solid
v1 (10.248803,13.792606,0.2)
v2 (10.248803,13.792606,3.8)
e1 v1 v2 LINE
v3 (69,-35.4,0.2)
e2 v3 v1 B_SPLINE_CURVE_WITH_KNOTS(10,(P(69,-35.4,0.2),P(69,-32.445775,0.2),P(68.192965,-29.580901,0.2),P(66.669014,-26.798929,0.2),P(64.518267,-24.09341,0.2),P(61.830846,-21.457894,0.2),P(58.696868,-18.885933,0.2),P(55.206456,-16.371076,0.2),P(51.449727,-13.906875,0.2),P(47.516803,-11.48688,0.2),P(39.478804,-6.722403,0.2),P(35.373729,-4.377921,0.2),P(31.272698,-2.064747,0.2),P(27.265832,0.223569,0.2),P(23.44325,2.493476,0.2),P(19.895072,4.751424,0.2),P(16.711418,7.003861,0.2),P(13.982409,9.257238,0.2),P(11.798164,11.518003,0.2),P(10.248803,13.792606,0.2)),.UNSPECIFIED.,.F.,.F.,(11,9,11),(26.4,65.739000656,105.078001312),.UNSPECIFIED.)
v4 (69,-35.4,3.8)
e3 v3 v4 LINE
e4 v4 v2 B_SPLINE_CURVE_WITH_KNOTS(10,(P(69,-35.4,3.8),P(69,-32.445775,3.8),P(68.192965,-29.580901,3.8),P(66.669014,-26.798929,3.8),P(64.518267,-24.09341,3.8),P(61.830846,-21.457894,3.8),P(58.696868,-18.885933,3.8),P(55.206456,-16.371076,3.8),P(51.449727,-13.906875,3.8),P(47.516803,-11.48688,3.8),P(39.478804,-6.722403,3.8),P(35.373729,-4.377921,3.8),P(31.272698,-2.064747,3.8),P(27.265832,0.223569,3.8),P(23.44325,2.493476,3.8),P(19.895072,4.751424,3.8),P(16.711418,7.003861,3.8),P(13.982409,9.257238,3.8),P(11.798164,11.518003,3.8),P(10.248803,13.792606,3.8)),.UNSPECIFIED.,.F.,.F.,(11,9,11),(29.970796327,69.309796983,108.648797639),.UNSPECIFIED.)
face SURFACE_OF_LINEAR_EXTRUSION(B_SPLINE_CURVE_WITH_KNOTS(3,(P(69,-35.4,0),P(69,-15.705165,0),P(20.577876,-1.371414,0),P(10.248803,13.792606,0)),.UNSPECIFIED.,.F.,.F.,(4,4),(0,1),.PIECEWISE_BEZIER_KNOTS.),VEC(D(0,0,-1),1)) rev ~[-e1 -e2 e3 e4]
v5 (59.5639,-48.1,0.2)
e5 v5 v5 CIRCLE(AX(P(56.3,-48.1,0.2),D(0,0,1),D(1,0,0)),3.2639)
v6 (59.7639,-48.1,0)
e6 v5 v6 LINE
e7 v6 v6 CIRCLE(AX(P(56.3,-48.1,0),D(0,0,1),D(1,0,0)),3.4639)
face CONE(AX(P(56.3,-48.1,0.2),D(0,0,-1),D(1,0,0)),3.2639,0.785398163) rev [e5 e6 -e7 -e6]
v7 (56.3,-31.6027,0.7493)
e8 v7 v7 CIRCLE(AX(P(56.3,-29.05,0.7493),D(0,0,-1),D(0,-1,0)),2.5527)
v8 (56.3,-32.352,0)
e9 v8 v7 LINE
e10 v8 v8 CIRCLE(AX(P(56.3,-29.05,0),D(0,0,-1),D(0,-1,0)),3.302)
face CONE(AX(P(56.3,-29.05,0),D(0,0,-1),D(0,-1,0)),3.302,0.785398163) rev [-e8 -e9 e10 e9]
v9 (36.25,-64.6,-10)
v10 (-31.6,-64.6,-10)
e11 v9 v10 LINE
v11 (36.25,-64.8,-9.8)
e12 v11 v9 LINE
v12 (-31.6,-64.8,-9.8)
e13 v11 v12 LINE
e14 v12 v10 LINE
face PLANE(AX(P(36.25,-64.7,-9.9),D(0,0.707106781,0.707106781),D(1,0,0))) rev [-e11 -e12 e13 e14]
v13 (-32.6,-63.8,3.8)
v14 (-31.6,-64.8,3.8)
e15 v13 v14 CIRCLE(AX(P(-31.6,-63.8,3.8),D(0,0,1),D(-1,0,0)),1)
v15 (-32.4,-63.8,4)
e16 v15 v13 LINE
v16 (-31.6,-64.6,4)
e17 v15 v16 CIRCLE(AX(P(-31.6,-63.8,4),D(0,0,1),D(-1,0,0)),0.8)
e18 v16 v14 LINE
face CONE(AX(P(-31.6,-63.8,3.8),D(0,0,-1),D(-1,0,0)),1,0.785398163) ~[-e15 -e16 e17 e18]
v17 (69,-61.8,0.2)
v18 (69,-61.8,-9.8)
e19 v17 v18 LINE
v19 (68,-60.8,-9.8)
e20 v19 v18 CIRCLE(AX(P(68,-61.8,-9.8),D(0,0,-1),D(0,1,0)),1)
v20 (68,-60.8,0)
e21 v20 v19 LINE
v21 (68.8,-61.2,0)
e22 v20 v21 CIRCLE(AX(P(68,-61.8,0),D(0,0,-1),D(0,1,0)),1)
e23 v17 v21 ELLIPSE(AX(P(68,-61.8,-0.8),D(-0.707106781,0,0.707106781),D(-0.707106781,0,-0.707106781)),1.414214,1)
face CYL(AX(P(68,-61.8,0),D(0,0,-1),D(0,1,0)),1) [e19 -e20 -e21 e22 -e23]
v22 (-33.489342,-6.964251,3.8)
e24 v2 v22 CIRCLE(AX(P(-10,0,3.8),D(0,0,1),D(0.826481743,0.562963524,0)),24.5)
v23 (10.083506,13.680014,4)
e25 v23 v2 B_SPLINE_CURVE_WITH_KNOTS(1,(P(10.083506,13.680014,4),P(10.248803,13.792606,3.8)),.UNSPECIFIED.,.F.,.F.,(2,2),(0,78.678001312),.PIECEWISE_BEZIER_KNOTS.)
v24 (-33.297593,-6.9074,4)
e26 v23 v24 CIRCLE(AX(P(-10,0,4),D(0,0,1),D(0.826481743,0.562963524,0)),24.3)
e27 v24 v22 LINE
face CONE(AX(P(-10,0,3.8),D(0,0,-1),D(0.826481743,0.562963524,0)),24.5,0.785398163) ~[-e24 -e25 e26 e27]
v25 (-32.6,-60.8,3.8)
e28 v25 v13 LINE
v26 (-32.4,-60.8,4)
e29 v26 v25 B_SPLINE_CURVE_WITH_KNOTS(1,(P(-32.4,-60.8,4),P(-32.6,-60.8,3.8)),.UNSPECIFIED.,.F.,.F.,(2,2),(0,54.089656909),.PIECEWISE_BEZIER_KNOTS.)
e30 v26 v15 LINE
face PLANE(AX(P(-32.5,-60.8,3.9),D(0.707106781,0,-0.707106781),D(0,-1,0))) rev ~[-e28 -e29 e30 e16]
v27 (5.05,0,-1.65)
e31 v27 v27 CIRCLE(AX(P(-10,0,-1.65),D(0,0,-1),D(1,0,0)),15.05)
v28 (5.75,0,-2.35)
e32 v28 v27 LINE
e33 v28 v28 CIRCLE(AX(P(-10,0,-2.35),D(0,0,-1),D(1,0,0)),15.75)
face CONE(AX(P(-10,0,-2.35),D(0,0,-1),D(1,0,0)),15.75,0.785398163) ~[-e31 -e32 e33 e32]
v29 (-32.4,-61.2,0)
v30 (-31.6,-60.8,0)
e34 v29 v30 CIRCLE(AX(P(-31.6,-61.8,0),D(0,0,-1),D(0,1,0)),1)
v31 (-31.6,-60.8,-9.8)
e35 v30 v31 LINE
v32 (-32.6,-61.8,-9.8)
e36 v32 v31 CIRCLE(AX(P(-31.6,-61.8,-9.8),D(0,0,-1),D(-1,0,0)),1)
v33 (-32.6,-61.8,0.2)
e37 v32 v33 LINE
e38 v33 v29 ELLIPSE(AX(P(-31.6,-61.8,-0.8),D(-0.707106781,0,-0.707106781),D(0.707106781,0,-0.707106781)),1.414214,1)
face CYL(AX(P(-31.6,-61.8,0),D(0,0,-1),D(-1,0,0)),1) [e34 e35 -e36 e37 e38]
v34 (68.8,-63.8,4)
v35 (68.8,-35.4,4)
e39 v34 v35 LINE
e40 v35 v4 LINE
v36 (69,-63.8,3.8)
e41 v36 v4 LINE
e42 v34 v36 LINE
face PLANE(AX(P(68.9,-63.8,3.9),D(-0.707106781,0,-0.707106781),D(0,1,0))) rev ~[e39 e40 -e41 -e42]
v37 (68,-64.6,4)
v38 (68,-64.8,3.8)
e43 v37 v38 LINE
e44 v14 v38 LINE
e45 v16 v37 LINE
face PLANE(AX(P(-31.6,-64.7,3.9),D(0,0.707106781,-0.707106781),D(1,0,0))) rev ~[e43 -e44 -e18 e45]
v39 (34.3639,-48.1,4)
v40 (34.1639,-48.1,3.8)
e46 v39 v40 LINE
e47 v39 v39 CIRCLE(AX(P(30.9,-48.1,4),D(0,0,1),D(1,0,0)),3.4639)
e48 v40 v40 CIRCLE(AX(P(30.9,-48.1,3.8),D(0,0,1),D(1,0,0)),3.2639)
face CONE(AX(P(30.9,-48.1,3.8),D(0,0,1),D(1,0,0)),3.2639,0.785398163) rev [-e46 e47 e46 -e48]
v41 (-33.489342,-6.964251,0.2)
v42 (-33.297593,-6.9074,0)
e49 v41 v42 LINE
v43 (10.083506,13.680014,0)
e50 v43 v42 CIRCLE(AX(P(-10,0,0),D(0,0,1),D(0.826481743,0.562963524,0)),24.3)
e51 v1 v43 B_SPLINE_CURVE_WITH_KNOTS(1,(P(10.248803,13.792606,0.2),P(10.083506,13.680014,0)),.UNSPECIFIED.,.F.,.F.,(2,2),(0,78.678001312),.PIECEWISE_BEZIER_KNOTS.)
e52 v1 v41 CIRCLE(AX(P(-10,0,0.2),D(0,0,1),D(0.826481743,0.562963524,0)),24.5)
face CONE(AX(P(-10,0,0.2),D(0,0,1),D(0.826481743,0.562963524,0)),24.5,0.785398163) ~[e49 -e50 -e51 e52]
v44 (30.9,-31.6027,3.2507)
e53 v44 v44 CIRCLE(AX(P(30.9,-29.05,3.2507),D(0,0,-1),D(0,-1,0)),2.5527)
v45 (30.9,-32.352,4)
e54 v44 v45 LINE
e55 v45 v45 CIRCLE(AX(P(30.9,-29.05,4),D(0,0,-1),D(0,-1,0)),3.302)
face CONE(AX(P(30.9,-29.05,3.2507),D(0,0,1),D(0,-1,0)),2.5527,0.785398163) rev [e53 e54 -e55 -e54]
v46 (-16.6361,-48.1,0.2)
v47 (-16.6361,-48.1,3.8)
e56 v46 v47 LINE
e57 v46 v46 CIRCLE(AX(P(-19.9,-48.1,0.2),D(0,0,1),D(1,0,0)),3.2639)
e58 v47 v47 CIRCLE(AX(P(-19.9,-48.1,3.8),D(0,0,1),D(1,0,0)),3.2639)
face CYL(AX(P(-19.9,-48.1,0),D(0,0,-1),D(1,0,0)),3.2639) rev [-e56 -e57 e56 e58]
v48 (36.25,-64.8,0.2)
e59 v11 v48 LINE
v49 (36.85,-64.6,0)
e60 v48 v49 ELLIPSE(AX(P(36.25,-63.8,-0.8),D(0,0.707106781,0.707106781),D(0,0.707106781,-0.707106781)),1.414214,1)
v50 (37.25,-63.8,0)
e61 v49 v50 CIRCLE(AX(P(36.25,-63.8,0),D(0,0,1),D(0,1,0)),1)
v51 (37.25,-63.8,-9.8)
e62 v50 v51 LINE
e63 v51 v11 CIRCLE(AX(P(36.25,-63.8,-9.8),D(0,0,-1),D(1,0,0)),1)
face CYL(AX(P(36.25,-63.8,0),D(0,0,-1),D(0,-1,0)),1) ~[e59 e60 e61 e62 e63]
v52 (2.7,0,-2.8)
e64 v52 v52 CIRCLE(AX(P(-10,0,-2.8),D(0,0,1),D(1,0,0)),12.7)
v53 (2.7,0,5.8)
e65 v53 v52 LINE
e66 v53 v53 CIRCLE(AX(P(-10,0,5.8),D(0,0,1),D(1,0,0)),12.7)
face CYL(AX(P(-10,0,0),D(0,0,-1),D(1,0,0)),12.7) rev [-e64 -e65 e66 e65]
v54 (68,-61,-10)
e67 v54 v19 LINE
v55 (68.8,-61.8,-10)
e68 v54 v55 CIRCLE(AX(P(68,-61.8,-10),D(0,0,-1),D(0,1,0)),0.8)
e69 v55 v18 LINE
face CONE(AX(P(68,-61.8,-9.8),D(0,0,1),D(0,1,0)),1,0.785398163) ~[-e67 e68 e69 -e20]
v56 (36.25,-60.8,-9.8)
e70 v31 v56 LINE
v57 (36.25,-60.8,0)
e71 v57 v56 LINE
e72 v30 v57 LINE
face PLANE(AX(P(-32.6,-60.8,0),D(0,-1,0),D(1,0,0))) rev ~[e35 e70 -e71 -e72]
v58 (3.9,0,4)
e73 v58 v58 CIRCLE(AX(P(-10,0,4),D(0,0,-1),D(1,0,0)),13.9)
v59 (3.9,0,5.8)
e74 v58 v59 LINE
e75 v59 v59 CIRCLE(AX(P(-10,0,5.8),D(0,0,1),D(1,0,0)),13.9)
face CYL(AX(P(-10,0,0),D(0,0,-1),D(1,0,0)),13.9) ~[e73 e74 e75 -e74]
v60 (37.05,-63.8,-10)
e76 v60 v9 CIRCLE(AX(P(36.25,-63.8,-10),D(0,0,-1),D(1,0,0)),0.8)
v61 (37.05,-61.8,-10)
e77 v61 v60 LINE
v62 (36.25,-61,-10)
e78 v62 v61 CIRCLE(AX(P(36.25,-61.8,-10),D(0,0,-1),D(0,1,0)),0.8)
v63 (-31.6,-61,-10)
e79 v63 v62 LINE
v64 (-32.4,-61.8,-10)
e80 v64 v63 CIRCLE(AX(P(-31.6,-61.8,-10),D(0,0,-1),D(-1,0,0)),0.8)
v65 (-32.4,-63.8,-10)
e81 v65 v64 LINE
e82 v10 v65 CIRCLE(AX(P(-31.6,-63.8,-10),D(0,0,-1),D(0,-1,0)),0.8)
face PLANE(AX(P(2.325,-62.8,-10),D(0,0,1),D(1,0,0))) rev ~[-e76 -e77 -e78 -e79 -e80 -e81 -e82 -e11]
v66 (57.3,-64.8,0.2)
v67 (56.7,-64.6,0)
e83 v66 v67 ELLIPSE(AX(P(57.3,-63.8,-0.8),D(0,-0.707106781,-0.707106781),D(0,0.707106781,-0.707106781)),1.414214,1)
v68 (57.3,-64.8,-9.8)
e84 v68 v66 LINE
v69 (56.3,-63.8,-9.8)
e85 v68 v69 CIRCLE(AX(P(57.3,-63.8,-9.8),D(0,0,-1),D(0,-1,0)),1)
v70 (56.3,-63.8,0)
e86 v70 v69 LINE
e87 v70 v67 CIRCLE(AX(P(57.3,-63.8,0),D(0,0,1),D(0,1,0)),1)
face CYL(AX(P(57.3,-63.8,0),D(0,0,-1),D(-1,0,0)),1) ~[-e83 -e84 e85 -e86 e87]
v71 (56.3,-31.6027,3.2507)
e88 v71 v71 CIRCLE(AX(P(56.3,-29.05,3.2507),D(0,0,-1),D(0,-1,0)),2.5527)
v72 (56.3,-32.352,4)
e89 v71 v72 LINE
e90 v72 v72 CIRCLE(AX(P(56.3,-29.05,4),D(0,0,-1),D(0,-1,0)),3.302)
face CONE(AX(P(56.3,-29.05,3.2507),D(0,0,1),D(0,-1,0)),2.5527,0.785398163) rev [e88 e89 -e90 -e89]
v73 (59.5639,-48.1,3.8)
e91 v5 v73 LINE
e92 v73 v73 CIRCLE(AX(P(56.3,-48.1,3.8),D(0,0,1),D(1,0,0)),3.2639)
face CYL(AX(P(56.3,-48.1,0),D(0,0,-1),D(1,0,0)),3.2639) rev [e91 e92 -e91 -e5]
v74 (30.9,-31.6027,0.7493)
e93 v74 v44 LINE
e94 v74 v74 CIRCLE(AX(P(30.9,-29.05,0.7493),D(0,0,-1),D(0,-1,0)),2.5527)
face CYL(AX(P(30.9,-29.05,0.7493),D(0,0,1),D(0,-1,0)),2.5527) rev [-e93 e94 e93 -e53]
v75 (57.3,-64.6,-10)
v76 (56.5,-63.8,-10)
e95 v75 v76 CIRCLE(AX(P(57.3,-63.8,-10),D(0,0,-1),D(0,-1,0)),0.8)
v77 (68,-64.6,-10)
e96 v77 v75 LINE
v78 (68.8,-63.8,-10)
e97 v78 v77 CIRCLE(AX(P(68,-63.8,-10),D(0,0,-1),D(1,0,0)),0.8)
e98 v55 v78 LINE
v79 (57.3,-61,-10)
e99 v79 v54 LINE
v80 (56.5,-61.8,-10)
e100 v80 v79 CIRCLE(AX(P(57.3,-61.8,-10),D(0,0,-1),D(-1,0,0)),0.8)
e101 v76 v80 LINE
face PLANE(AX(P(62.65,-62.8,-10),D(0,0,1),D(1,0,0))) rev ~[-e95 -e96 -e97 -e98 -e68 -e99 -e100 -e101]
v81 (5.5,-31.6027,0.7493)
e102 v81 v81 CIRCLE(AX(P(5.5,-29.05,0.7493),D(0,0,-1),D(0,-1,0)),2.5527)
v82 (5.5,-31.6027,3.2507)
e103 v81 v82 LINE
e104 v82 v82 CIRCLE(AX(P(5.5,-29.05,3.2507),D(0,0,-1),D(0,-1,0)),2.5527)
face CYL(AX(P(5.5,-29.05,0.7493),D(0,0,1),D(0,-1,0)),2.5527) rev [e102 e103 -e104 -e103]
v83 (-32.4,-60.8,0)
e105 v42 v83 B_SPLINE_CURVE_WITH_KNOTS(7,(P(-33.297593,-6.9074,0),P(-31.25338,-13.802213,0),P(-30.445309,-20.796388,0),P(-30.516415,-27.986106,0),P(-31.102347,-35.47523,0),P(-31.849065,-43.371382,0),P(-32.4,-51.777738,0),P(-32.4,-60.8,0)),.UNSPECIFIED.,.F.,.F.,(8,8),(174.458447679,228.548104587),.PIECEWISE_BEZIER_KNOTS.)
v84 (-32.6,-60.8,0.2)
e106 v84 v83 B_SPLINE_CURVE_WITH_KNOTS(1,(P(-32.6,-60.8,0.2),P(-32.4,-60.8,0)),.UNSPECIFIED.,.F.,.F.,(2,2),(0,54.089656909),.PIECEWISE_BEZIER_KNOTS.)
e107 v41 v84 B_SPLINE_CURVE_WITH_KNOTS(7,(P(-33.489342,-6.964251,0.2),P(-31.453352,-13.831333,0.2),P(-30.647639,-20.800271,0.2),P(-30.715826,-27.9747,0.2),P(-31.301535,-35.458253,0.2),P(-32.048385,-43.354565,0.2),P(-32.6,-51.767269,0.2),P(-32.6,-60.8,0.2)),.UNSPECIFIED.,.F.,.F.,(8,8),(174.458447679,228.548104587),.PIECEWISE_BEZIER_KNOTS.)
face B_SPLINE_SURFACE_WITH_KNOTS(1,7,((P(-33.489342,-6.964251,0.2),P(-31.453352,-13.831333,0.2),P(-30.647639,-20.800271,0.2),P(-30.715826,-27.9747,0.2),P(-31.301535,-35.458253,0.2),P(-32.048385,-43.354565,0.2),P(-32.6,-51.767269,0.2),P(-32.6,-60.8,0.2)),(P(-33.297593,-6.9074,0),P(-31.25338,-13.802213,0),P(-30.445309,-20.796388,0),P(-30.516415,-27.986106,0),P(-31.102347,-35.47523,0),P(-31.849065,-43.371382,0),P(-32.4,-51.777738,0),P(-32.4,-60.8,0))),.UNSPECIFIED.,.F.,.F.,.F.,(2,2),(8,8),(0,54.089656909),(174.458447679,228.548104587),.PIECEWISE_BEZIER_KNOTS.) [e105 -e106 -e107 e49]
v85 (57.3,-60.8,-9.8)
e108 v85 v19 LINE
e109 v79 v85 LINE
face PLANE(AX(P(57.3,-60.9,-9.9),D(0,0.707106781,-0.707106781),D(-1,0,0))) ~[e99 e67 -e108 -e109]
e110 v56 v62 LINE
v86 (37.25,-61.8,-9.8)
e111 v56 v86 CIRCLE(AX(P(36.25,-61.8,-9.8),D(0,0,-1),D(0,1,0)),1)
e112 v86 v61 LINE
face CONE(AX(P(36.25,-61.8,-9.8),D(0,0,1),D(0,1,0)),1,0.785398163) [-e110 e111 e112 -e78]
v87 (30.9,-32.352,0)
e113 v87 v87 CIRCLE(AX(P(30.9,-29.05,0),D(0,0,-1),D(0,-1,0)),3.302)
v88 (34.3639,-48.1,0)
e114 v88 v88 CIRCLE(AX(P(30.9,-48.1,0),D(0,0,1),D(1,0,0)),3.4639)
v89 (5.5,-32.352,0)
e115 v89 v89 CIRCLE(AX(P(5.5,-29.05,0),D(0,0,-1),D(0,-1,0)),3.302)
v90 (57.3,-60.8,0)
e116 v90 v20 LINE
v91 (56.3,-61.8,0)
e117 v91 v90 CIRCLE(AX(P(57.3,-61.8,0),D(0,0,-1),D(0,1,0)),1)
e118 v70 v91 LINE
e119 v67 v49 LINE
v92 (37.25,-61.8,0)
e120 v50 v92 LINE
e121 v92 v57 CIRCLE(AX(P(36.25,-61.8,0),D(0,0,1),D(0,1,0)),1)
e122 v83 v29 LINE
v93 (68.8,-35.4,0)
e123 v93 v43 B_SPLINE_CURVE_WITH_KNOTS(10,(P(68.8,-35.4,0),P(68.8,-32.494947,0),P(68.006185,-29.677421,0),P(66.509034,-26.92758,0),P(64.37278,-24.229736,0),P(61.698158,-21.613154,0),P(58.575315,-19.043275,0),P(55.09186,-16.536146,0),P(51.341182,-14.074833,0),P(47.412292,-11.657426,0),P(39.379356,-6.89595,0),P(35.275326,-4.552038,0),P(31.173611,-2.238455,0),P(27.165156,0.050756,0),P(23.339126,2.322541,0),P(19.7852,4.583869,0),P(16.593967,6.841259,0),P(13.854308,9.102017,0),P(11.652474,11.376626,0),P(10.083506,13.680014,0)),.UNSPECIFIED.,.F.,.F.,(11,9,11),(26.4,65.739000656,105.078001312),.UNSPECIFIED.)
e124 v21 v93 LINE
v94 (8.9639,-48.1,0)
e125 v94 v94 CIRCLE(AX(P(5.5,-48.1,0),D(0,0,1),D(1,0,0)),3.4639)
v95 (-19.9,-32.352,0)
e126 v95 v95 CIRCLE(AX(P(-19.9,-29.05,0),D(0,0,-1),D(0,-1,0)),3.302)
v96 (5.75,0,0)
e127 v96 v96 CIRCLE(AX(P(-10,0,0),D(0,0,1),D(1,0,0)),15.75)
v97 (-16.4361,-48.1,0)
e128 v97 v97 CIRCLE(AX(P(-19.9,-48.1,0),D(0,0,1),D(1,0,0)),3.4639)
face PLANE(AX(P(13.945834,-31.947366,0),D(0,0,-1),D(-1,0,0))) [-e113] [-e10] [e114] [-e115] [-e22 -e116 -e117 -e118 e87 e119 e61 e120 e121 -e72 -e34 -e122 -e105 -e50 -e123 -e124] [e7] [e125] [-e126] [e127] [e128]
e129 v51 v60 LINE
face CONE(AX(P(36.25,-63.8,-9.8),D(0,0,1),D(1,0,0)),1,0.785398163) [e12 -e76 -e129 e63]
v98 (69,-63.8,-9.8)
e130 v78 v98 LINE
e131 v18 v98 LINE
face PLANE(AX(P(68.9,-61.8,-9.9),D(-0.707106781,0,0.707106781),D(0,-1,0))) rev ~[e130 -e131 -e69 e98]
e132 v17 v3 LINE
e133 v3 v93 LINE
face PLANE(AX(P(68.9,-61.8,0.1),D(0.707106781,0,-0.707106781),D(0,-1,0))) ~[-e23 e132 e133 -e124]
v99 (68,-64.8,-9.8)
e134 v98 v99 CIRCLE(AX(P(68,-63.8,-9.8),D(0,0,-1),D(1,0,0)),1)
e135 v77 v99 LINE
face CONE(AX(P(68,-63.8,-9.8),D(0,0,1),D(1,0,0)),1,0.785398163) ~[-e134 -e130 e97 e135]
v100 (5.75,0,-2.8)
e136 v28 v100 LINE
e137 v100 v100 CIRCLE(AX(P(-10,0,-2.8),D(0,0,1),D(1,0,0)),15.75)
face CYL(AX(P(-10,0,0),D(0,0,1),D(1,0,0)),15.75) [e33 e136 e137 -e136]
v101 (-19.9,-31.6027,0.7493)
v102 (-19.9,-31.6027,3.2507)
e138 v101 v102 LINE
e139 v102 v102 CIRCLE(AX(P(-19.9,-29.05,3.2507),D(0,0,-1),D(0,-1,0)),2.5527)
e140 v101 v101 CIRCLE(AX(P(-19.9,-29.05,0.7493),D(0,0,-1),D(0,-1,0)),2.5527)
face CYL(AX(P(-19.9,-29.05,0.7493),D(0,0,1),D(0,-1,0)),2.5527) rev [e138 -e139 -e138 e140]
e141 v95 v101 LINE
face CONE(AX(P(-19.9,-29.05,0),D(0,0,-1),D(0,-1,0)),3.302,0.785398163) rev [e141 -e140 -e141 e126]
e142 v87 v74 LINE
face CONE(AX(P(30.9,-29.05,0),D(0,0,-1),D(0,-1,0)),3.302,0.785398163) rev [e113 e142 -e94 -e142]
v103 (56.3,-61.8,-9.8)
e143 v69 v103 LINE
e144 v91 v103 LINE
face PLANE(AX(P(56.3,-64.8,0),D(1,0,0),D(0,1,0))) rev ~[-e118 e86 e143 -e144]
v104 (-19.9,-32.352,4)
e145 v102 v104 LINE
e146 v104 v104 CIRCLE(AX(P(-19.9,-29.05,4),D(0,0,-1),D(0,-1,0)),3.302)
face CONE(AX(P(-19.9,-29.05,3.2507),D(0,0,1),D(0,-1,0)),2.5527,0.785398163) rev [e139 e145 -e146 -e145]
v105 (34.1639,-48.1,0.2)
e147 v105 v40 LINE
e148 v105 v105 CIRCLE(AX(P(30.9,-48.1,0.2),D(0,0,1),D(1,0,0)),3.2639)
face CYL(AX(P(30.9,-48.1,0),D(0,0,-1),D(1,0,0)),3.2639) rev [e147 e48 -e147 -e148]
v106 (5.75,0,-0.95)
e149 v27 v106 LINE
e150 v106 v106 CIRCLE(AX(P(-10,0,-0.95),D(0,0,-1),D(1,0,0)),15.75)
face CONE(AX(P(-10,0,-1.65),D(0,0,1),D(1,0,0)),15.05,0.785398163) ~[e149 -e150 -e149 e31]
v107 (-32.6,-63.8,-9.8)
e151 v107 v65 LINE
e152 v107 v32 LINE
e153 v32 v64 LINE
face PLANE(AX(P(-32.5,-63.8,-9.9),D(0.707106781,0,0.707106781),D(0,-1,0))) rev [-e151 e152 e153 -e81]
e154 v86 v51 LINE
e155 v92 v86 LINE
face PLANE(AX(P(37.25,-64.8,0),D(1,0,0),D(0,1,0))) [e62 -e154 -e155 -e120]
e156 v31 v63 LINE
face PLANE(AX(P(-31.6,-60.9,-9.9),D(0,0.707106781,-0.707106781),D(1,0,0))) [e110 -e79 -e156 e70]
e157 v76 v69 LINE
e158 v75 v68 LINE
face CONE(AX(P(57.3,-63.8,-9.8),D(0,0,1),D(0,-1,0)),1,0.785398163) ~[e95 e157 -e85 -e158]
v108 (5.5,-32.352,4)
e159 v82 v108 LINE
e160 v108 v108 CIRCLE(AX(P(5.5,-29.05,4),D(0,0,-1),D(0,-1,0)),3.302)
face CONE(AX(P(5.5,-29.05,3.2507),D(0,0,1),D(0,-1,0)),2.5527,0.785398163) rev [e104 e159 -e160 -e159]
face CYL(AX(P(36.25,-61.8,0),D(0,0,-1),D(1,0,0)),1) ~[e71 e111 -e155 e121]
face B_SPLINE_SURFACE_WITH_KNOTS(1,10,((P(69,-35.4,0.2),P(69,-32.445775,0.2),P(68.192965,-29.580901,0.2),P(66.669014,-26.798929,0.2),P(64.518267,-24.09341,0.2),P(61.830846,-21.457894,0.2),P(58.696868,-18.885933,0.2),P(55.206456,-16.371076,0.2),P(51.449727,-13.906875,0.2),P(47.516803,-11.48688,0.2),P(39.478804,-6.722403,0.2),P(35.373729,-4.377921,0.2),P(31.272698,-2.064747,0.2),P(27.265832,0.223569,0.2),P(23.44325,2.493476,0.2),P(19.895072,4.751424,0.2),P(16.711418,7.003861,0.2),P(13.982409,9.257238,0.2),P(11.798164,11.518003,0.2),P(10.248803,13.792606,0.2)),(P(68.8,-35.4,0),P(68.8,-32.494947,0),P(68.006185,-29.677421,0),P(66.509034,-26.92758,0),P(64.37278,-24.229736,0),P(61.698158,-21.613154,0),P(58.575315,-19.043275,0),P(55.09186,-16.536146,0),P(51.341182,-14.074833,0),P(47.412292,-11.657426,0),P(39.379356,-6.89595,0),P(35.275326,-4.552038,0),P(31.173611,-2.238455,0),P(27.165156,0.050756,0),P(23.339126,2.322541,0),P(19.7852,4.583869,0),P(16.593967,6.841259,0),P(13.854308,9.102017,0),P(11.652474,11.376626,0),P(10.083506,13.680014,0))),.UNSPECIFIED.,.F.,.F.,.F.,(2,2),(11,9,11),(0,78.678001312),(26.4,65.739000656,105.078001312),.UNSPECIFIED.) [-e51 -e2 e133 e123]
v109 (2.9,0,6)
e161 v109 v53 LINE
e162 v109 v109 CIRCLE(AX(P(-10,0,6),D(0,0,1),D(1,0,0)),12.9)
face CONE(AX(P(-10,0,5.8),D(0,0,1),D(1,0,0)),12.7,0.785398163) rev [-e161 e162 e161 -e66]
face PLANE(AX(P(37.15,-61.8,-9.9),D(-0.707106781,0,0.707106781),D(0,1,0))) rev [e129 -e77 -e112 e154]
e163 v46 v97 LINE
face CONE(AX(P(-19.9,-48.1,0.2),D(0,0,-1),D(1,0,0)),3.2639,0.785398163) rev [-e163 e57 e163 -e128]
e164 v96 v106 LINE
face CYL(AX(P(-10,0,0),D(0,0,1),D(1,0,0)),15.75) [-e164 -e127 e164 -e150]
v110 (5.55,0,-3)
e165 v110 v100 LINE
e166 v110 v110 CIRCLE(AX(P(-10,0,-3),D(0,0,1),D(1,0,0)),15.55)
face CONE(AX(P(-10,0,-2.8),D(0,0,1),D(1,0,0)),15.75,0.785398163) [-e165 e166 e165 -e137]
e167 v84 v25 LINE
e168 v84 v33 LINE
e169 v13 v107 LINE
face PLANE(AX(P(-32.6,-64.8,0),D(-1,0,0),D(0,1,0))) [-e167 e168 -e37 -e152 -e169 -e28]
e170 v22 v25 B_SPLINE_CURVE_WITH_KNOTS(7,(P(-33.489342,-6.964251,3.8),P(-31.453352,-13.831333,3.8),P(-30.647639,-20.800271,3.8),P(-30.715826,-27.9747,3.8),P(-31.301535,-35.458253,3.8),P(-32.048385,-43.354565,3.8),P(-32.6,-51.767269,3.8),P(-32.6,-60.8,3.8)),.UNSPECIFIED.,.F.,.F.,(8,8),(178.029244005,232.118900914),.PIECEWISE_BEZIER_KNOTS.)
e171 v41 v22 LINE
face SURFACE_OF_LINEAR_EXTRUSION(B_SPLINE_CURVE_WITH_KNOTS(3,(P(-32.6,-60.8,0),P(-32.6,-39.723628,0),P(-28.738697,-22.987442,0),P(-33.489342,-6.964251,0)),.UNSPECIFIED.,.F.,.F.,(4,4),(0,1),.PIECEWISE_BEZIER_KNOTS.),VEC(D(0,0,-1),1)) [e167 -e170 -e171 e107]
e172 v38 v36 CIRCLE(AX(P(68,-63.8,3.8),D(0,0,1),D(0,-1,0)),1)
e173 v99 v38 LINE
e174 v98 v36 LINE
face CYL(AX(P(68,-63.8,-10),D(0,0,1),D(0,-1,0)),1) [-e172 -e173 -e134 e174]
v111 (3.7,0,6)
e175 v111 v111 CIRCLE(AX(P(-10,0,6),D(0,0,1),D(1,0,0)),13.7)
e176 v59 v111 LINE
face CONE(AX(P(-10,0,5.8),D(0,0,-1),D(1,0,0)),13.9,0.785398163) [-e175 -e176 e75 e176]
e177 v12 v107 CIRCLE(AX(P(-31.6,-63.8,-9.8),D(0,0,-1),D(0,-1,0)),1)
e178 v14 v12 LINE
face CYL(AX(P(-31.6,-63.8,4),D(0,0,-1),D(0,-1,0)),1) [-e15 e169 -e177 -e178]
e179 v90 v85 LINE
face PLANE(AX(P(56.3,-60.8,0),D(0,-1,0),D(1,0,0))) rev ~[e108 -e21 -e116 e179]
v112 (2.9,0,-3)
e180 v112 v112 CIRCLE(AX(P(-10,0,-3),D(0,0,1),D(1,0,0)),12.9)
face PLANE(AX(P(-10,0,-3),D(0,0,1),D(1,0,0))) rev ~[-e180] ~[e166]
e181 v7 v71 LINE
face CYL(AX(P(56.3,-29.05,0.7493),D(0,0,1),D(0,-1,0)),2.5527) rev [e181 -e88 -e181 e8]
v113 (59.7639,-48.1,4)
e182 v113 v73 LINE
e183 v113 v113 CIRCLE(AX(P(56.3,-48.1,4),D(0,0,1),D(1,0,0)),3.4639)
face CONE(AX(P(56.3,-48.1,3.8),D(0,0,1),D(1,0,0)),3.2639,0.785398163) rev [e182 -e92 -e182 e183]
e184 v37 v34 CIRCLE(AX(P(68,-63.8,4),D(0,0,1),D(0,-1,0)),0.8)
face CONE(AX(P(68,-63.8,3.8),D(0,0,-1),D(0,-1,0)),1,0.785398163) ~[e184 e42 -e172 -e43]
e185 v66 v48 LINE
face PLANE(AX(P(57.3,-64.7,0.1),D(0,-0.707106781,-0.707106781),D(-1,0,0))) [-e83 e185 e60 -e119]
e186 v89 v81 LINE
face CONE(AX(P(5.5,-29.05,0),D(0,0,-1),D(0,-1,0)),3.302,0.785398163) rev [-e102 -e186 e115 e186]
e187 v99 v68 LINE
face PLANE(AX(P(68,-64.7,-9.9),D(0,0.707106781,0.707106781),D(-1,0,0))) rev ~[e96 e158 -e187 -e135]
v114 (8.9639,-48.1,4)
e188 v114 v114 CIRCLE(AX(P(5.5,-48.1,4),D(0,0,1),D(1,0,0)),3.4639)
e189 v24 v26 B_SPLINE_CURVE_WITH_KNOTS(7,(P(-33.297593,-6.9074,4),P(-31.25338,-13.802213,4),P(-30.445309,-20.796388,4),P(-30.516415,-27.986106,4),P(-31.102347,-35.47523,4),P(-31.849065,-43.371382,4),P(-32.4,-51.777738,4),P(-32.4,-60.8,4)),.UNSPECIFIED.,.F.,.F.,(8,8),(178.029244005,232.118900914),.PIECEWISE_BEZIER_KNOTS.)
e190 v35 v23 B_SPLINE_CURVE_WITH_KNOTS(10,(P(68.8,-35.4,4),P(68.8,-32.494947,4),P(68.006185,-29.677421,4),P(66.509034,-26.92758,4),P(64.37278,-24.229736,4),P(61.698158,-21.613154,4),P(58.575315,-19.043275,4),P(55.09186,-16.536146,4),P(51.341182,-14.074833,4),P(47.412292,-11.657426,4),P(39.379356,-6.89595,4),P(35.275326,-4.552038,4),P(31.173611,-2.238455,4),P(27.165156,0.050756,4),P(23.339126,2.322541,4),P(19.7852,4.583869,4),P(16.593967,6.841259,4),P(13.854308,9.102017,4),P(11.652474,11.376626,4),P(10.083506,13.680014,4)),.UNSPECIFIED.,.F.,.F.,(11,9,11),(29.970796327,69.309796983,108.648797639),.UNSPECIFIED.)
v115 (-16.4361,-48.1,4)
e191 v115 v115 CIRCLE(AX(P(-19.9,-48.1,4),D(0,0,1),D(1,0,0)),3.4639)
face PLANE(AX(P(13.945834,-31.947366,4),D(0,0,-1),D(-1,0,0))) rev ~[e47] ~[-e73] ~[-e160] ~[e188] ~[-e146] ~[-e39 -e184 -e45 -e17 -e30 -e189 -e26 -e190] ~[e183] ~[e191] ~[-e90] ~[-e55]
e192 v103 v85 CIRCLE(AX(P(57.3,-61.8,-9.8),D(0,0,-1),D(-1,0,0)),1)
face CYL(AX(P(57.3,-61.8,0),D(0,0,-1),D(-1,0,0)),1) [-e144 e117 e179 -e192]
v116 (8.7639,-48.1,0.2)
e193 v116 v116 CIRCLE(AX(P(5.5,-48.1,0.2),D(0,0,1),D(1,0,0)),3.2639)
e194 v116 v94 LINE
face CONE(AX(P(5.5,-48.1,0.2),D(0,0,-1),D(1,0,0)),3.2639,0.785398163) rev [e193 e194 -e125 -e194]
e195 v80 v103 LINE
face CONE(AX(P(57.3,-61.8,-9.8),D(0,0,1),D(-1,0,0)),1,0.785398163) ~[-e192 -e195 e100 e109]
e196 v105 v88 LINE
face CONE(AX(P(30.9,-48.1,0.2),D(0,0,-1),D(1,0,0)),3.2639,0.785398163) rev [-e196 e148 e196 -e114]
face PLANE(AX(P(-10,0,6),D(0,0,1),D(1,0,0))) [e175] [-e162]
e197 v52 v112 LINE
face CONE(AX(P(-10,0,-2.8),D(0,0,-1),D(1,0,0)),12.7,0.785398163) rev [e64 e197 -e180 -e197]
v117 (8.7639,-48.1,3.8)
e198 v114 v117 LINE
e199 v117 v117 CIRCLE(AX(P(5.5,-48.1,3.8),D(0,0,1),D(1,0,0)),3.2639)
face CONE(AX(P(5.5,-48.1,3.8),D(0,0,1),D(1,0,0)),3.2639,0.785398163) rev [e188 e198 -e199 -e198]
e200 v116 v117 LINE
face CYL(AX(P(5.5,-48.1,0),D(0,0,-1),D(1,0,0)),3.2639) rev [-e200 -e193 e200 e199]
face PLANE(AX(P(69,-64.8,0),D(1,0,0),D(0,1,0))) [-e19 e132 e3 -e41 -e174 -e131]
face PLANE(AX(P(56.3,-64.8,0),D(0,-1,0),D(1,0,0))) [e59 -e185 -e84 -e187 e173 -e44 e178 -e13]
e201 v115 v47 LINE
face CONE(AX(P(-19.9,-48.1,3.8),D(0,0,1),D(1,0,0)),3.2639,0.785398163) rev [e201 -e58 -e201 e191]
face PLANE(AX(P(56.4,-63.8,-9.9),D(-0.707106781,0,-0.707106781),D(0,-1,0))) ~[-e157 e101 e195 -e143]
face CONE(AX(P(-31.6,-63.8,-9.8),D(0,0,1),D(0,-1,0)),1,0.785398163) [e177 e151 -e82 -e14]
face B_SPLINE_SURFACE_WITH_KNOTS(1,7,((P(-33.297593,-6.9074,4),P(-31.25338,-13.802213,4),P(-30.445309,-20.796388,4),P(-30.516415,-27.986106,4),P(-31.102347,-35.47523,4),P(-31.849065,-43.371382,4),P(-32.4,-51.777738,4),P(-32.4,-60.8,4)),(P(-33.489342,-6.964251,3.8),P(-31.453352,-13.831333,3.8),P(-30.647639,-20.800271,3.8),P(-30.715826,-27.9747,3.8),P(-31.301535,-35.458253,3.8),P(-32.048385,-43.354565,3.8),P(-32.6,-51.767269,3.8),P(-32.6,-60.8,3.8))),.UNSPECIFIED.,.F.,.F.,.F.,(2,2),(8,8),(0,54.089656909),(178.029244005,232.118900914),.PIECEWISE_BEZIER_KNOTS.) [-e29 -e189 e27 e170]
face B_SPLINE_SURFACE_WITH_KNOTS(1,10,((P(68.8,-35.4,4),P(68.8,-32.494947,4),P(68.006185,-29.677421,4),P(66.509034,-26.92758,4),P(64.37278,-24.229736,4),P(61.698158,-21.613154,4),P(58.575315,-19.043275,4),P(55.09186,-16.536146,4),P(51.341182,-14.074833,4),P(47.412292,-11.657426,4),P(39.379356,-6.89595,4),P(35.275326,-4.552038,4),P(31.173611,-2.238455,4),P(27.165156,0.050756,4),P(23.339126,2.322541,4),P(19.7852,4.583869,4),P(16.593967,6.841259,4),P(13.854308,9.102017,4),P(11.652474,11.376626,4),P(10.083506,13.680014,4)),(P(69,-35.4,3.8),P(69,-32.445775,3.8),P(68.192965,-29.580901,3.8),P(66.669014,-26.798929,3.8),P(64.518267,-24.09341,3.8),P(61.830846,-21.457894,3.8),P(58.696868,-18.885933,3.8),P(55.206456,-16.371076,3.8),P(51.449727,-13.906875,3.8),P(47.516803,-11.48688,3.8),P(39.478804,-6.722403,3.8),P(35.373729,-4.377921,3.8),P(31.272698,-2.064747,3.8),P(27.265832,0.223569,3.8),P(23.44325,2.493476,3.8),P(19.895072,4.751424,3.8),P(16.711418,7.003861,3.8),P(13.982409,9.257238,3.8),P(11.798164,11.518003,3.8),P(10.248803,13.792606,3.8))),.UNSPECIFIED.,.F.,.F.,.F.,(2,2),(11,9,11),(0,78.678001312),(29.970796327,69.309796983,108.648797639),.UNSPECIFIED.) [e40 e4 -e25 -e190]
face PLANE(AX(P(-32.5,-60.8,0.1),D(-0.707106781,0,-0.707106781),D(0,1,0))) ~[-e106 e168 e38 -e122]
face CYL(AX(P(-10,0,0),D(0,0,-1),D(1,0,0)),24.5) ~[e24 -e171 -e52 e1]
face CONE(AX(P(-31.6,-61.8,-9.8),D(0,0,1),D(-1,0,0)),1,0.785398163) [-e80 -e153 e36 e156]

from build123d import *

# Parameters (mm, degrees)
MAIN_FEATURES_SKETCH_R           = 24.5
MAIN_FEATURES_SKETCH_R_2         = 15.75
MAIN_FEATURES_SKETCH_R_3         = 12.7
MAIN_FEATURES_SKETCH_R_4         = 13.9
OUTER_RING_DEPTH                 = 4
MAIN_FEATURES_SKETCH_3_R         = 15.75
MAIN_FEATURES_SKETCH_3_R_2       = 13.9
MAIN_FEATURES_SKETCH_3_R_3       = 12.7
INNER_RING_DEPTH                 = 3
MAIN_FEATURES_SKETCH_4_R         = 13.9
MAIN_FEATURES_SKETCH_4_R_2       = 12.7
SUPPORT_RING_DEPTH               = 6
MAIN_FEATURES_SKETCH_5_R         = 3.2639
MAIN_FEATURES_SKETCH_5_W         = 101.6
MAIN_FEATURES_SKETCH_5_H         = 4
MAIN_FEATURES_SKETCH_5_W_2       = 69.85
MAIN_FEATURES_SKETCH_5_W_3       = 19.05
MAIN_FEATURES_SKETCH_5_W_4       = 12.7
PLATE_DEPTH                      = 4
MAIN_FEATURES_SKETCH_6_W         = 12.7
MAIN_FEATURES_SKETCH_6_H         = 4
MAIN_FEATURES_SKETCH_6_W_2       = 69.85
LEDGE_DEPTH                      = 10
F_1_4_20_TAPPED_HOLE1_AT_2_COUNT = 2
F_1_4_20_TAPPED_HOLE1_AT_2_PITCH = 25.4
F_1_4_20_TAPPED_HOLE1_AT_3_COUNT = 2
F_1_4_20_TAPPED_HOLE1_AT_3_PITCH = 76.2
F_1_4_20_TAPPED_HOLE1_AT_4_COUNT = 2
F_1_4_20_TAPPED_HOLE1_AT_4_PITCH = 50.8
FILLET1_R                        = 1
CHAMFER1_SIZE                    = 0.2


with BuildPart() as part:
    # main_features_sketch → outer_ring (new body)
    with BuildSketch(Plane.XY):
        with Locations((-10, 0)):
            Circle(MAIN_FEATURES_SKETCH_R)
        with Locations((-10, 0)):
            Circle(MAIN_FEATURES_SKETCH_R_2, mode=Mode.SUBTRACT)
        with Locations((-10, 0)):
            Circle(MAIN_FEATURES_SKETCH_R_2)
        with Locations((-10, 0)):
            Circle(MAIN_FEATURES_SKETCH_R_3, mode=Mode.SUBTRACT)
        with Locations((-10, 0)):
            Circle(MAIN_FEATURES_SKETCH_R_4)
        with Locations((-10, 0)):
            Circle(MAIN_FEATURES_SKETCH_R_3, mode=Mode.SUBTRACT)
    extrude(amount=OUTER_RING_DEPTH)

    # main_features_sketch<3> → inner_ring (add)
    with BuildSketch(Plane.XY):
        with Locations((-10, 0)):
            Circle(MAIN_FEATURES_SKETCH_3_R)
        with Locations((-10, 0)):
            Circle(MAIN_FEATURES_SKETCH_3_R_2, mode=Mode.SUBTRACT)
        with Locations((-10, 0)):
            Circle(MAIN_FEATURES_SKETCH_3_R_2)
        with Locations((-10, 0)):
            Circle(MAIN_FEATURES_SKETCH_3_R_3, mode=Mode.SUBTRACT)
    extrude(amount=-INNER_RING_DEPTH)

    # main_features_sketch<4> → support_ring (add)
    with BuildSketch(Plane.XY):
        with Locations((-10, 0)):
            Circle(MAIN_FEATURES_SKETCH_4_R)
        with Locations((-10, 0)):
            Circle(MAIN_FEATURES_SKETCH_4_R_2, mode=Mode.SUBTRACT)
    extrude(amount=SUPPORT_RING_DEPTH)

    # groove_sketch → groove (revolve, cut)
    with BuildSketch(Plane(origin=(-10, 0, 0), x_dir=(0, 0, -1), z_dir=(1, 0, 0)), mode=Mode.PRIVATE) as groove_sk:
        Polygon((2.35, 15.75), (1.65, 15.05), (0.95, 15.75), align=None)
    revolve(groove_sk.sketch.rotate(Axis((-10, 0, 4), (0, 0, -1)), 90), axis=Axis((-10, 0, 4), (0, 0, -1)), mode=Mode.SUBTRACT)

    # main_features_sketch<5> → plate (add)
    with BuildSketch(Plane.XY):
        with BuildLine():
            add(Edge.make_bspline(
                [(-32.6, -60.8), (-32.6, -39.723627729), (-28.738697218, -22.987442245), (-33.489342322, -6.96425138)],
                knots=[0, 0, 0, 0, 1, 1, 1, 1], degree=3))
            Line((-32.6, -60.8), (37.25, -60.8))
            Line((37.25, -60.8), (56.3, -60.8))
            Line((56.3, -60.8), (69, -60.8))
            Line((69, -60.8), (69, -35.4))
            add(Edge.make_bspline(
                [(69, -35.4), (69, -15.705164825), (20.577875926, -1.371414224), (10.248802697, 13.792606329)],
                knots=[0, 0, 0, 0, 1, 1, 1, 1], degree=3))
            ThreePointArc((10.248802697, 13.792606329), (13.413091061, 7.216451134), (14.5, 0))
            ThreePointArc((14.5, 0), (-6.481398494, -24.246019126), (-33.489342322, -6.96425138))
        make_face()
        with Locations((-19.9, -48.1)):
            Circle(MAIN_FEATURES_SKETCH_5_R, mode=Mode.SUBTRACT)
        with Locations((5.5, -48.1)):
            Circle(MAIN_FEATURES_SKETCH_5_R, mode=Mode.SUBTRACT)
        with Locations((30.9, -48.1)):
            Circle(MAIN_FEATURES_SKETCH_5_R, mode=Mode.SUBTRACT)
        with Locations((56.3, -48.1)):
            Circle(MAIN_FEATURES_SKETCH_5_R, mode=Mode.SUBTRACT)
        with Locations((18.2, -62.8)):
            Rectangle(MAIN_FEATURES_SKETCH_5_W, MAIN_FEATURES_SKETCH_5_H)
        with Locations((2.325, -62.8)):
            Rectangle(MAIN_FEATURES_SKETCH_5_W_2, MAIN_FEATURES_SKETCH_5_H)
        with Locations((46.775, -62.8)):
            Rectangle(MAIN_FEATURES_SKETCH_5_W_3, MAIN_FEATURES_SKETCH_5_H)
        with Locations((62.65, -62.8)):
            Rectangle(MAIN_FEATURES_SKETCH_5_W_4, MAIN_FEATURES_SKETCH_5_H)
    extrude(amount=PLATE_DEPTH)

    # main_features_sketch<6> → ledge (add)
    with BuildSketch(Plane.XY):
        with Locations((62.65, -62.8)):
            Rectangle(MAIN_FEATURES_SKETCH_6_W, MAIN_FEATURES_SKETCH_6_H)
        with Locations((2.325, -62.8)):
            Rectangle(MAIN_FEATURES_SKETCH_6_W_2, MAIN_FEATURES_SKETCH_6_H)
    extrude(amount=-LEDGE_DEPTH)

    # Sketch2 → 1/4-20 Tapped Hole1 (revolve, cut)
    with BuildSketch(Plane(origin=(56.3, -29.05, 4), x_dir=(0, -1, 0), z_dir=(1, 0, 0))):
        Polygon((0, 0), (0, 4), (3.302, 4), (2.5527, 3.2507), (2.5527, 0.7493), (3.302, 0), align=None)
    f_1_4_20_tapped_hole1 = revolve(axis=Axis((56.3, -29.05, 10.35), (0, 0, -1)), mode=Mode.SUBTRACT)

    # 1/4-20 Tapped Hole1 at 2: 1/4-20 Tapped Hole1 ×2
    with Locations(*[(-i * F_1_4_20_TAPPED_HOLE1_AT_2_PITCH, 0, 0) for i in range(1, F_1_4_20_TAPPED_HOLE1_AT_2_COUNT)]):
        add(f_1_4_20_tapped_hole1, mode=Mode.SUBTRACT)

    # 1/4-20 Tapped Hole1 at 3: 1/4-20 Tapped Hole1 ×2
    with Locations(*[(-i * F_1_4_20_TAPPED_HOLE1_AT_3_PITCH, 0, 0) for i in range(1, F_1_4_20_TAPPED_HOLE1_AT_3_COUNT)]):
        add(f_1_4_20_tapped_hole1, mode=Mode.SUBTRACT)

    # 1/4-20 Tapped Hole1 at 4: 1/4-20 Tapped Hole1 ×2
    with Locations(*[(-i * F_1_4_20_TAPPED_HOLE1_AT_4_PITCH, 0, 0) for i in range(1, F_1_4_20_TAPPED_HOLE1_AT_4_COUNT)]):
        add(f_1_4_20_tapped_hole1, mode=Mode.SUBTRACT)

    # Fillet1
    fillet1_edges = [part.edges().sort_by_distance(p)[0] for p in [
        (69, -64.8, -3),
        (-32.6, -64.8, -3),
        (56.3, -64.8, -5),
        (56.3, -60.8, -5),
        (69, -60.8, -5),
        (37.25, -64.8, -5),
        (-32.6, -60.8, -5),
        (37.25, -60.8, -5),
    ]]
    fillet(fillet1_edges, radius=FILLET1_R)

    # Chamfer1
    chamfer1_edges = [part.edges().sort_by_distance(p)[0] for p in [
        (-23.9, 0, 6),
        (-22.7, 0, 6),
        (-25.75, 0, -3),
        (-22.7, 0, -3),
        (-23.1639, -48.1, 0),
        (-23.1639, -48.1, 4),
        (2.2361, -48.1, 0),
        (2.2361, -48.1, 4),
        (27.6361, -48.1, 0),
        (27.6361, -48.1, 4),
        (53.0361, -48.1, 0),
        (53.0361, -48.1, 4),
        (68.707106781, -61.092893219, -10),
        (62.65, -60.8, -10),
        (56.592893219, -61.092893219, -10),
        (56.3, -62.8, -10),
        (56.592893219, -64.507106781, -10),
        (62.65, -64.8, -10),
        (68.707106781, -64.507106781, -10),
        (69, -62.8, -10),
        (-32.307106781, -61.092893219, -10),
        (-32.6, -62.8, -10),
        (-32.307106781, -64.507106781, -10),
        (2.325, -64.8, -10),
        (36.957106781, -64.507106781, -10),
        (37.25, -62.8, -10),
        (36.957106781, -61.092893219, -10),
        (2.325, -60.8, -10),
        (68.707106781, -64.507106781, 4),
        (18.2, -64.8, 4),
        (69, -49.6, 4),
        (-32.307106781, -64.507106781, 4),
        (42.397221588, -8.455112608, 4),
        (42.397221588, -8.455112608, 0),
        (-32.6, -62.3, 4),
        (-20.504144885, 22.133977054, 4),
        (-20.504144885, 22.133977054, 0),
        (-31.34637018, -33.788834835, 4),
        (-31.34637018, -33.788834835, 0),
        (46.775, -64.8, 0),
        (69, -48.6, 0),
        (-32.6, -61.3, 0),
    ]]
    chamfer(chamfer1_edges, length=CHAMFER1_SIZE)


solid = part.part
